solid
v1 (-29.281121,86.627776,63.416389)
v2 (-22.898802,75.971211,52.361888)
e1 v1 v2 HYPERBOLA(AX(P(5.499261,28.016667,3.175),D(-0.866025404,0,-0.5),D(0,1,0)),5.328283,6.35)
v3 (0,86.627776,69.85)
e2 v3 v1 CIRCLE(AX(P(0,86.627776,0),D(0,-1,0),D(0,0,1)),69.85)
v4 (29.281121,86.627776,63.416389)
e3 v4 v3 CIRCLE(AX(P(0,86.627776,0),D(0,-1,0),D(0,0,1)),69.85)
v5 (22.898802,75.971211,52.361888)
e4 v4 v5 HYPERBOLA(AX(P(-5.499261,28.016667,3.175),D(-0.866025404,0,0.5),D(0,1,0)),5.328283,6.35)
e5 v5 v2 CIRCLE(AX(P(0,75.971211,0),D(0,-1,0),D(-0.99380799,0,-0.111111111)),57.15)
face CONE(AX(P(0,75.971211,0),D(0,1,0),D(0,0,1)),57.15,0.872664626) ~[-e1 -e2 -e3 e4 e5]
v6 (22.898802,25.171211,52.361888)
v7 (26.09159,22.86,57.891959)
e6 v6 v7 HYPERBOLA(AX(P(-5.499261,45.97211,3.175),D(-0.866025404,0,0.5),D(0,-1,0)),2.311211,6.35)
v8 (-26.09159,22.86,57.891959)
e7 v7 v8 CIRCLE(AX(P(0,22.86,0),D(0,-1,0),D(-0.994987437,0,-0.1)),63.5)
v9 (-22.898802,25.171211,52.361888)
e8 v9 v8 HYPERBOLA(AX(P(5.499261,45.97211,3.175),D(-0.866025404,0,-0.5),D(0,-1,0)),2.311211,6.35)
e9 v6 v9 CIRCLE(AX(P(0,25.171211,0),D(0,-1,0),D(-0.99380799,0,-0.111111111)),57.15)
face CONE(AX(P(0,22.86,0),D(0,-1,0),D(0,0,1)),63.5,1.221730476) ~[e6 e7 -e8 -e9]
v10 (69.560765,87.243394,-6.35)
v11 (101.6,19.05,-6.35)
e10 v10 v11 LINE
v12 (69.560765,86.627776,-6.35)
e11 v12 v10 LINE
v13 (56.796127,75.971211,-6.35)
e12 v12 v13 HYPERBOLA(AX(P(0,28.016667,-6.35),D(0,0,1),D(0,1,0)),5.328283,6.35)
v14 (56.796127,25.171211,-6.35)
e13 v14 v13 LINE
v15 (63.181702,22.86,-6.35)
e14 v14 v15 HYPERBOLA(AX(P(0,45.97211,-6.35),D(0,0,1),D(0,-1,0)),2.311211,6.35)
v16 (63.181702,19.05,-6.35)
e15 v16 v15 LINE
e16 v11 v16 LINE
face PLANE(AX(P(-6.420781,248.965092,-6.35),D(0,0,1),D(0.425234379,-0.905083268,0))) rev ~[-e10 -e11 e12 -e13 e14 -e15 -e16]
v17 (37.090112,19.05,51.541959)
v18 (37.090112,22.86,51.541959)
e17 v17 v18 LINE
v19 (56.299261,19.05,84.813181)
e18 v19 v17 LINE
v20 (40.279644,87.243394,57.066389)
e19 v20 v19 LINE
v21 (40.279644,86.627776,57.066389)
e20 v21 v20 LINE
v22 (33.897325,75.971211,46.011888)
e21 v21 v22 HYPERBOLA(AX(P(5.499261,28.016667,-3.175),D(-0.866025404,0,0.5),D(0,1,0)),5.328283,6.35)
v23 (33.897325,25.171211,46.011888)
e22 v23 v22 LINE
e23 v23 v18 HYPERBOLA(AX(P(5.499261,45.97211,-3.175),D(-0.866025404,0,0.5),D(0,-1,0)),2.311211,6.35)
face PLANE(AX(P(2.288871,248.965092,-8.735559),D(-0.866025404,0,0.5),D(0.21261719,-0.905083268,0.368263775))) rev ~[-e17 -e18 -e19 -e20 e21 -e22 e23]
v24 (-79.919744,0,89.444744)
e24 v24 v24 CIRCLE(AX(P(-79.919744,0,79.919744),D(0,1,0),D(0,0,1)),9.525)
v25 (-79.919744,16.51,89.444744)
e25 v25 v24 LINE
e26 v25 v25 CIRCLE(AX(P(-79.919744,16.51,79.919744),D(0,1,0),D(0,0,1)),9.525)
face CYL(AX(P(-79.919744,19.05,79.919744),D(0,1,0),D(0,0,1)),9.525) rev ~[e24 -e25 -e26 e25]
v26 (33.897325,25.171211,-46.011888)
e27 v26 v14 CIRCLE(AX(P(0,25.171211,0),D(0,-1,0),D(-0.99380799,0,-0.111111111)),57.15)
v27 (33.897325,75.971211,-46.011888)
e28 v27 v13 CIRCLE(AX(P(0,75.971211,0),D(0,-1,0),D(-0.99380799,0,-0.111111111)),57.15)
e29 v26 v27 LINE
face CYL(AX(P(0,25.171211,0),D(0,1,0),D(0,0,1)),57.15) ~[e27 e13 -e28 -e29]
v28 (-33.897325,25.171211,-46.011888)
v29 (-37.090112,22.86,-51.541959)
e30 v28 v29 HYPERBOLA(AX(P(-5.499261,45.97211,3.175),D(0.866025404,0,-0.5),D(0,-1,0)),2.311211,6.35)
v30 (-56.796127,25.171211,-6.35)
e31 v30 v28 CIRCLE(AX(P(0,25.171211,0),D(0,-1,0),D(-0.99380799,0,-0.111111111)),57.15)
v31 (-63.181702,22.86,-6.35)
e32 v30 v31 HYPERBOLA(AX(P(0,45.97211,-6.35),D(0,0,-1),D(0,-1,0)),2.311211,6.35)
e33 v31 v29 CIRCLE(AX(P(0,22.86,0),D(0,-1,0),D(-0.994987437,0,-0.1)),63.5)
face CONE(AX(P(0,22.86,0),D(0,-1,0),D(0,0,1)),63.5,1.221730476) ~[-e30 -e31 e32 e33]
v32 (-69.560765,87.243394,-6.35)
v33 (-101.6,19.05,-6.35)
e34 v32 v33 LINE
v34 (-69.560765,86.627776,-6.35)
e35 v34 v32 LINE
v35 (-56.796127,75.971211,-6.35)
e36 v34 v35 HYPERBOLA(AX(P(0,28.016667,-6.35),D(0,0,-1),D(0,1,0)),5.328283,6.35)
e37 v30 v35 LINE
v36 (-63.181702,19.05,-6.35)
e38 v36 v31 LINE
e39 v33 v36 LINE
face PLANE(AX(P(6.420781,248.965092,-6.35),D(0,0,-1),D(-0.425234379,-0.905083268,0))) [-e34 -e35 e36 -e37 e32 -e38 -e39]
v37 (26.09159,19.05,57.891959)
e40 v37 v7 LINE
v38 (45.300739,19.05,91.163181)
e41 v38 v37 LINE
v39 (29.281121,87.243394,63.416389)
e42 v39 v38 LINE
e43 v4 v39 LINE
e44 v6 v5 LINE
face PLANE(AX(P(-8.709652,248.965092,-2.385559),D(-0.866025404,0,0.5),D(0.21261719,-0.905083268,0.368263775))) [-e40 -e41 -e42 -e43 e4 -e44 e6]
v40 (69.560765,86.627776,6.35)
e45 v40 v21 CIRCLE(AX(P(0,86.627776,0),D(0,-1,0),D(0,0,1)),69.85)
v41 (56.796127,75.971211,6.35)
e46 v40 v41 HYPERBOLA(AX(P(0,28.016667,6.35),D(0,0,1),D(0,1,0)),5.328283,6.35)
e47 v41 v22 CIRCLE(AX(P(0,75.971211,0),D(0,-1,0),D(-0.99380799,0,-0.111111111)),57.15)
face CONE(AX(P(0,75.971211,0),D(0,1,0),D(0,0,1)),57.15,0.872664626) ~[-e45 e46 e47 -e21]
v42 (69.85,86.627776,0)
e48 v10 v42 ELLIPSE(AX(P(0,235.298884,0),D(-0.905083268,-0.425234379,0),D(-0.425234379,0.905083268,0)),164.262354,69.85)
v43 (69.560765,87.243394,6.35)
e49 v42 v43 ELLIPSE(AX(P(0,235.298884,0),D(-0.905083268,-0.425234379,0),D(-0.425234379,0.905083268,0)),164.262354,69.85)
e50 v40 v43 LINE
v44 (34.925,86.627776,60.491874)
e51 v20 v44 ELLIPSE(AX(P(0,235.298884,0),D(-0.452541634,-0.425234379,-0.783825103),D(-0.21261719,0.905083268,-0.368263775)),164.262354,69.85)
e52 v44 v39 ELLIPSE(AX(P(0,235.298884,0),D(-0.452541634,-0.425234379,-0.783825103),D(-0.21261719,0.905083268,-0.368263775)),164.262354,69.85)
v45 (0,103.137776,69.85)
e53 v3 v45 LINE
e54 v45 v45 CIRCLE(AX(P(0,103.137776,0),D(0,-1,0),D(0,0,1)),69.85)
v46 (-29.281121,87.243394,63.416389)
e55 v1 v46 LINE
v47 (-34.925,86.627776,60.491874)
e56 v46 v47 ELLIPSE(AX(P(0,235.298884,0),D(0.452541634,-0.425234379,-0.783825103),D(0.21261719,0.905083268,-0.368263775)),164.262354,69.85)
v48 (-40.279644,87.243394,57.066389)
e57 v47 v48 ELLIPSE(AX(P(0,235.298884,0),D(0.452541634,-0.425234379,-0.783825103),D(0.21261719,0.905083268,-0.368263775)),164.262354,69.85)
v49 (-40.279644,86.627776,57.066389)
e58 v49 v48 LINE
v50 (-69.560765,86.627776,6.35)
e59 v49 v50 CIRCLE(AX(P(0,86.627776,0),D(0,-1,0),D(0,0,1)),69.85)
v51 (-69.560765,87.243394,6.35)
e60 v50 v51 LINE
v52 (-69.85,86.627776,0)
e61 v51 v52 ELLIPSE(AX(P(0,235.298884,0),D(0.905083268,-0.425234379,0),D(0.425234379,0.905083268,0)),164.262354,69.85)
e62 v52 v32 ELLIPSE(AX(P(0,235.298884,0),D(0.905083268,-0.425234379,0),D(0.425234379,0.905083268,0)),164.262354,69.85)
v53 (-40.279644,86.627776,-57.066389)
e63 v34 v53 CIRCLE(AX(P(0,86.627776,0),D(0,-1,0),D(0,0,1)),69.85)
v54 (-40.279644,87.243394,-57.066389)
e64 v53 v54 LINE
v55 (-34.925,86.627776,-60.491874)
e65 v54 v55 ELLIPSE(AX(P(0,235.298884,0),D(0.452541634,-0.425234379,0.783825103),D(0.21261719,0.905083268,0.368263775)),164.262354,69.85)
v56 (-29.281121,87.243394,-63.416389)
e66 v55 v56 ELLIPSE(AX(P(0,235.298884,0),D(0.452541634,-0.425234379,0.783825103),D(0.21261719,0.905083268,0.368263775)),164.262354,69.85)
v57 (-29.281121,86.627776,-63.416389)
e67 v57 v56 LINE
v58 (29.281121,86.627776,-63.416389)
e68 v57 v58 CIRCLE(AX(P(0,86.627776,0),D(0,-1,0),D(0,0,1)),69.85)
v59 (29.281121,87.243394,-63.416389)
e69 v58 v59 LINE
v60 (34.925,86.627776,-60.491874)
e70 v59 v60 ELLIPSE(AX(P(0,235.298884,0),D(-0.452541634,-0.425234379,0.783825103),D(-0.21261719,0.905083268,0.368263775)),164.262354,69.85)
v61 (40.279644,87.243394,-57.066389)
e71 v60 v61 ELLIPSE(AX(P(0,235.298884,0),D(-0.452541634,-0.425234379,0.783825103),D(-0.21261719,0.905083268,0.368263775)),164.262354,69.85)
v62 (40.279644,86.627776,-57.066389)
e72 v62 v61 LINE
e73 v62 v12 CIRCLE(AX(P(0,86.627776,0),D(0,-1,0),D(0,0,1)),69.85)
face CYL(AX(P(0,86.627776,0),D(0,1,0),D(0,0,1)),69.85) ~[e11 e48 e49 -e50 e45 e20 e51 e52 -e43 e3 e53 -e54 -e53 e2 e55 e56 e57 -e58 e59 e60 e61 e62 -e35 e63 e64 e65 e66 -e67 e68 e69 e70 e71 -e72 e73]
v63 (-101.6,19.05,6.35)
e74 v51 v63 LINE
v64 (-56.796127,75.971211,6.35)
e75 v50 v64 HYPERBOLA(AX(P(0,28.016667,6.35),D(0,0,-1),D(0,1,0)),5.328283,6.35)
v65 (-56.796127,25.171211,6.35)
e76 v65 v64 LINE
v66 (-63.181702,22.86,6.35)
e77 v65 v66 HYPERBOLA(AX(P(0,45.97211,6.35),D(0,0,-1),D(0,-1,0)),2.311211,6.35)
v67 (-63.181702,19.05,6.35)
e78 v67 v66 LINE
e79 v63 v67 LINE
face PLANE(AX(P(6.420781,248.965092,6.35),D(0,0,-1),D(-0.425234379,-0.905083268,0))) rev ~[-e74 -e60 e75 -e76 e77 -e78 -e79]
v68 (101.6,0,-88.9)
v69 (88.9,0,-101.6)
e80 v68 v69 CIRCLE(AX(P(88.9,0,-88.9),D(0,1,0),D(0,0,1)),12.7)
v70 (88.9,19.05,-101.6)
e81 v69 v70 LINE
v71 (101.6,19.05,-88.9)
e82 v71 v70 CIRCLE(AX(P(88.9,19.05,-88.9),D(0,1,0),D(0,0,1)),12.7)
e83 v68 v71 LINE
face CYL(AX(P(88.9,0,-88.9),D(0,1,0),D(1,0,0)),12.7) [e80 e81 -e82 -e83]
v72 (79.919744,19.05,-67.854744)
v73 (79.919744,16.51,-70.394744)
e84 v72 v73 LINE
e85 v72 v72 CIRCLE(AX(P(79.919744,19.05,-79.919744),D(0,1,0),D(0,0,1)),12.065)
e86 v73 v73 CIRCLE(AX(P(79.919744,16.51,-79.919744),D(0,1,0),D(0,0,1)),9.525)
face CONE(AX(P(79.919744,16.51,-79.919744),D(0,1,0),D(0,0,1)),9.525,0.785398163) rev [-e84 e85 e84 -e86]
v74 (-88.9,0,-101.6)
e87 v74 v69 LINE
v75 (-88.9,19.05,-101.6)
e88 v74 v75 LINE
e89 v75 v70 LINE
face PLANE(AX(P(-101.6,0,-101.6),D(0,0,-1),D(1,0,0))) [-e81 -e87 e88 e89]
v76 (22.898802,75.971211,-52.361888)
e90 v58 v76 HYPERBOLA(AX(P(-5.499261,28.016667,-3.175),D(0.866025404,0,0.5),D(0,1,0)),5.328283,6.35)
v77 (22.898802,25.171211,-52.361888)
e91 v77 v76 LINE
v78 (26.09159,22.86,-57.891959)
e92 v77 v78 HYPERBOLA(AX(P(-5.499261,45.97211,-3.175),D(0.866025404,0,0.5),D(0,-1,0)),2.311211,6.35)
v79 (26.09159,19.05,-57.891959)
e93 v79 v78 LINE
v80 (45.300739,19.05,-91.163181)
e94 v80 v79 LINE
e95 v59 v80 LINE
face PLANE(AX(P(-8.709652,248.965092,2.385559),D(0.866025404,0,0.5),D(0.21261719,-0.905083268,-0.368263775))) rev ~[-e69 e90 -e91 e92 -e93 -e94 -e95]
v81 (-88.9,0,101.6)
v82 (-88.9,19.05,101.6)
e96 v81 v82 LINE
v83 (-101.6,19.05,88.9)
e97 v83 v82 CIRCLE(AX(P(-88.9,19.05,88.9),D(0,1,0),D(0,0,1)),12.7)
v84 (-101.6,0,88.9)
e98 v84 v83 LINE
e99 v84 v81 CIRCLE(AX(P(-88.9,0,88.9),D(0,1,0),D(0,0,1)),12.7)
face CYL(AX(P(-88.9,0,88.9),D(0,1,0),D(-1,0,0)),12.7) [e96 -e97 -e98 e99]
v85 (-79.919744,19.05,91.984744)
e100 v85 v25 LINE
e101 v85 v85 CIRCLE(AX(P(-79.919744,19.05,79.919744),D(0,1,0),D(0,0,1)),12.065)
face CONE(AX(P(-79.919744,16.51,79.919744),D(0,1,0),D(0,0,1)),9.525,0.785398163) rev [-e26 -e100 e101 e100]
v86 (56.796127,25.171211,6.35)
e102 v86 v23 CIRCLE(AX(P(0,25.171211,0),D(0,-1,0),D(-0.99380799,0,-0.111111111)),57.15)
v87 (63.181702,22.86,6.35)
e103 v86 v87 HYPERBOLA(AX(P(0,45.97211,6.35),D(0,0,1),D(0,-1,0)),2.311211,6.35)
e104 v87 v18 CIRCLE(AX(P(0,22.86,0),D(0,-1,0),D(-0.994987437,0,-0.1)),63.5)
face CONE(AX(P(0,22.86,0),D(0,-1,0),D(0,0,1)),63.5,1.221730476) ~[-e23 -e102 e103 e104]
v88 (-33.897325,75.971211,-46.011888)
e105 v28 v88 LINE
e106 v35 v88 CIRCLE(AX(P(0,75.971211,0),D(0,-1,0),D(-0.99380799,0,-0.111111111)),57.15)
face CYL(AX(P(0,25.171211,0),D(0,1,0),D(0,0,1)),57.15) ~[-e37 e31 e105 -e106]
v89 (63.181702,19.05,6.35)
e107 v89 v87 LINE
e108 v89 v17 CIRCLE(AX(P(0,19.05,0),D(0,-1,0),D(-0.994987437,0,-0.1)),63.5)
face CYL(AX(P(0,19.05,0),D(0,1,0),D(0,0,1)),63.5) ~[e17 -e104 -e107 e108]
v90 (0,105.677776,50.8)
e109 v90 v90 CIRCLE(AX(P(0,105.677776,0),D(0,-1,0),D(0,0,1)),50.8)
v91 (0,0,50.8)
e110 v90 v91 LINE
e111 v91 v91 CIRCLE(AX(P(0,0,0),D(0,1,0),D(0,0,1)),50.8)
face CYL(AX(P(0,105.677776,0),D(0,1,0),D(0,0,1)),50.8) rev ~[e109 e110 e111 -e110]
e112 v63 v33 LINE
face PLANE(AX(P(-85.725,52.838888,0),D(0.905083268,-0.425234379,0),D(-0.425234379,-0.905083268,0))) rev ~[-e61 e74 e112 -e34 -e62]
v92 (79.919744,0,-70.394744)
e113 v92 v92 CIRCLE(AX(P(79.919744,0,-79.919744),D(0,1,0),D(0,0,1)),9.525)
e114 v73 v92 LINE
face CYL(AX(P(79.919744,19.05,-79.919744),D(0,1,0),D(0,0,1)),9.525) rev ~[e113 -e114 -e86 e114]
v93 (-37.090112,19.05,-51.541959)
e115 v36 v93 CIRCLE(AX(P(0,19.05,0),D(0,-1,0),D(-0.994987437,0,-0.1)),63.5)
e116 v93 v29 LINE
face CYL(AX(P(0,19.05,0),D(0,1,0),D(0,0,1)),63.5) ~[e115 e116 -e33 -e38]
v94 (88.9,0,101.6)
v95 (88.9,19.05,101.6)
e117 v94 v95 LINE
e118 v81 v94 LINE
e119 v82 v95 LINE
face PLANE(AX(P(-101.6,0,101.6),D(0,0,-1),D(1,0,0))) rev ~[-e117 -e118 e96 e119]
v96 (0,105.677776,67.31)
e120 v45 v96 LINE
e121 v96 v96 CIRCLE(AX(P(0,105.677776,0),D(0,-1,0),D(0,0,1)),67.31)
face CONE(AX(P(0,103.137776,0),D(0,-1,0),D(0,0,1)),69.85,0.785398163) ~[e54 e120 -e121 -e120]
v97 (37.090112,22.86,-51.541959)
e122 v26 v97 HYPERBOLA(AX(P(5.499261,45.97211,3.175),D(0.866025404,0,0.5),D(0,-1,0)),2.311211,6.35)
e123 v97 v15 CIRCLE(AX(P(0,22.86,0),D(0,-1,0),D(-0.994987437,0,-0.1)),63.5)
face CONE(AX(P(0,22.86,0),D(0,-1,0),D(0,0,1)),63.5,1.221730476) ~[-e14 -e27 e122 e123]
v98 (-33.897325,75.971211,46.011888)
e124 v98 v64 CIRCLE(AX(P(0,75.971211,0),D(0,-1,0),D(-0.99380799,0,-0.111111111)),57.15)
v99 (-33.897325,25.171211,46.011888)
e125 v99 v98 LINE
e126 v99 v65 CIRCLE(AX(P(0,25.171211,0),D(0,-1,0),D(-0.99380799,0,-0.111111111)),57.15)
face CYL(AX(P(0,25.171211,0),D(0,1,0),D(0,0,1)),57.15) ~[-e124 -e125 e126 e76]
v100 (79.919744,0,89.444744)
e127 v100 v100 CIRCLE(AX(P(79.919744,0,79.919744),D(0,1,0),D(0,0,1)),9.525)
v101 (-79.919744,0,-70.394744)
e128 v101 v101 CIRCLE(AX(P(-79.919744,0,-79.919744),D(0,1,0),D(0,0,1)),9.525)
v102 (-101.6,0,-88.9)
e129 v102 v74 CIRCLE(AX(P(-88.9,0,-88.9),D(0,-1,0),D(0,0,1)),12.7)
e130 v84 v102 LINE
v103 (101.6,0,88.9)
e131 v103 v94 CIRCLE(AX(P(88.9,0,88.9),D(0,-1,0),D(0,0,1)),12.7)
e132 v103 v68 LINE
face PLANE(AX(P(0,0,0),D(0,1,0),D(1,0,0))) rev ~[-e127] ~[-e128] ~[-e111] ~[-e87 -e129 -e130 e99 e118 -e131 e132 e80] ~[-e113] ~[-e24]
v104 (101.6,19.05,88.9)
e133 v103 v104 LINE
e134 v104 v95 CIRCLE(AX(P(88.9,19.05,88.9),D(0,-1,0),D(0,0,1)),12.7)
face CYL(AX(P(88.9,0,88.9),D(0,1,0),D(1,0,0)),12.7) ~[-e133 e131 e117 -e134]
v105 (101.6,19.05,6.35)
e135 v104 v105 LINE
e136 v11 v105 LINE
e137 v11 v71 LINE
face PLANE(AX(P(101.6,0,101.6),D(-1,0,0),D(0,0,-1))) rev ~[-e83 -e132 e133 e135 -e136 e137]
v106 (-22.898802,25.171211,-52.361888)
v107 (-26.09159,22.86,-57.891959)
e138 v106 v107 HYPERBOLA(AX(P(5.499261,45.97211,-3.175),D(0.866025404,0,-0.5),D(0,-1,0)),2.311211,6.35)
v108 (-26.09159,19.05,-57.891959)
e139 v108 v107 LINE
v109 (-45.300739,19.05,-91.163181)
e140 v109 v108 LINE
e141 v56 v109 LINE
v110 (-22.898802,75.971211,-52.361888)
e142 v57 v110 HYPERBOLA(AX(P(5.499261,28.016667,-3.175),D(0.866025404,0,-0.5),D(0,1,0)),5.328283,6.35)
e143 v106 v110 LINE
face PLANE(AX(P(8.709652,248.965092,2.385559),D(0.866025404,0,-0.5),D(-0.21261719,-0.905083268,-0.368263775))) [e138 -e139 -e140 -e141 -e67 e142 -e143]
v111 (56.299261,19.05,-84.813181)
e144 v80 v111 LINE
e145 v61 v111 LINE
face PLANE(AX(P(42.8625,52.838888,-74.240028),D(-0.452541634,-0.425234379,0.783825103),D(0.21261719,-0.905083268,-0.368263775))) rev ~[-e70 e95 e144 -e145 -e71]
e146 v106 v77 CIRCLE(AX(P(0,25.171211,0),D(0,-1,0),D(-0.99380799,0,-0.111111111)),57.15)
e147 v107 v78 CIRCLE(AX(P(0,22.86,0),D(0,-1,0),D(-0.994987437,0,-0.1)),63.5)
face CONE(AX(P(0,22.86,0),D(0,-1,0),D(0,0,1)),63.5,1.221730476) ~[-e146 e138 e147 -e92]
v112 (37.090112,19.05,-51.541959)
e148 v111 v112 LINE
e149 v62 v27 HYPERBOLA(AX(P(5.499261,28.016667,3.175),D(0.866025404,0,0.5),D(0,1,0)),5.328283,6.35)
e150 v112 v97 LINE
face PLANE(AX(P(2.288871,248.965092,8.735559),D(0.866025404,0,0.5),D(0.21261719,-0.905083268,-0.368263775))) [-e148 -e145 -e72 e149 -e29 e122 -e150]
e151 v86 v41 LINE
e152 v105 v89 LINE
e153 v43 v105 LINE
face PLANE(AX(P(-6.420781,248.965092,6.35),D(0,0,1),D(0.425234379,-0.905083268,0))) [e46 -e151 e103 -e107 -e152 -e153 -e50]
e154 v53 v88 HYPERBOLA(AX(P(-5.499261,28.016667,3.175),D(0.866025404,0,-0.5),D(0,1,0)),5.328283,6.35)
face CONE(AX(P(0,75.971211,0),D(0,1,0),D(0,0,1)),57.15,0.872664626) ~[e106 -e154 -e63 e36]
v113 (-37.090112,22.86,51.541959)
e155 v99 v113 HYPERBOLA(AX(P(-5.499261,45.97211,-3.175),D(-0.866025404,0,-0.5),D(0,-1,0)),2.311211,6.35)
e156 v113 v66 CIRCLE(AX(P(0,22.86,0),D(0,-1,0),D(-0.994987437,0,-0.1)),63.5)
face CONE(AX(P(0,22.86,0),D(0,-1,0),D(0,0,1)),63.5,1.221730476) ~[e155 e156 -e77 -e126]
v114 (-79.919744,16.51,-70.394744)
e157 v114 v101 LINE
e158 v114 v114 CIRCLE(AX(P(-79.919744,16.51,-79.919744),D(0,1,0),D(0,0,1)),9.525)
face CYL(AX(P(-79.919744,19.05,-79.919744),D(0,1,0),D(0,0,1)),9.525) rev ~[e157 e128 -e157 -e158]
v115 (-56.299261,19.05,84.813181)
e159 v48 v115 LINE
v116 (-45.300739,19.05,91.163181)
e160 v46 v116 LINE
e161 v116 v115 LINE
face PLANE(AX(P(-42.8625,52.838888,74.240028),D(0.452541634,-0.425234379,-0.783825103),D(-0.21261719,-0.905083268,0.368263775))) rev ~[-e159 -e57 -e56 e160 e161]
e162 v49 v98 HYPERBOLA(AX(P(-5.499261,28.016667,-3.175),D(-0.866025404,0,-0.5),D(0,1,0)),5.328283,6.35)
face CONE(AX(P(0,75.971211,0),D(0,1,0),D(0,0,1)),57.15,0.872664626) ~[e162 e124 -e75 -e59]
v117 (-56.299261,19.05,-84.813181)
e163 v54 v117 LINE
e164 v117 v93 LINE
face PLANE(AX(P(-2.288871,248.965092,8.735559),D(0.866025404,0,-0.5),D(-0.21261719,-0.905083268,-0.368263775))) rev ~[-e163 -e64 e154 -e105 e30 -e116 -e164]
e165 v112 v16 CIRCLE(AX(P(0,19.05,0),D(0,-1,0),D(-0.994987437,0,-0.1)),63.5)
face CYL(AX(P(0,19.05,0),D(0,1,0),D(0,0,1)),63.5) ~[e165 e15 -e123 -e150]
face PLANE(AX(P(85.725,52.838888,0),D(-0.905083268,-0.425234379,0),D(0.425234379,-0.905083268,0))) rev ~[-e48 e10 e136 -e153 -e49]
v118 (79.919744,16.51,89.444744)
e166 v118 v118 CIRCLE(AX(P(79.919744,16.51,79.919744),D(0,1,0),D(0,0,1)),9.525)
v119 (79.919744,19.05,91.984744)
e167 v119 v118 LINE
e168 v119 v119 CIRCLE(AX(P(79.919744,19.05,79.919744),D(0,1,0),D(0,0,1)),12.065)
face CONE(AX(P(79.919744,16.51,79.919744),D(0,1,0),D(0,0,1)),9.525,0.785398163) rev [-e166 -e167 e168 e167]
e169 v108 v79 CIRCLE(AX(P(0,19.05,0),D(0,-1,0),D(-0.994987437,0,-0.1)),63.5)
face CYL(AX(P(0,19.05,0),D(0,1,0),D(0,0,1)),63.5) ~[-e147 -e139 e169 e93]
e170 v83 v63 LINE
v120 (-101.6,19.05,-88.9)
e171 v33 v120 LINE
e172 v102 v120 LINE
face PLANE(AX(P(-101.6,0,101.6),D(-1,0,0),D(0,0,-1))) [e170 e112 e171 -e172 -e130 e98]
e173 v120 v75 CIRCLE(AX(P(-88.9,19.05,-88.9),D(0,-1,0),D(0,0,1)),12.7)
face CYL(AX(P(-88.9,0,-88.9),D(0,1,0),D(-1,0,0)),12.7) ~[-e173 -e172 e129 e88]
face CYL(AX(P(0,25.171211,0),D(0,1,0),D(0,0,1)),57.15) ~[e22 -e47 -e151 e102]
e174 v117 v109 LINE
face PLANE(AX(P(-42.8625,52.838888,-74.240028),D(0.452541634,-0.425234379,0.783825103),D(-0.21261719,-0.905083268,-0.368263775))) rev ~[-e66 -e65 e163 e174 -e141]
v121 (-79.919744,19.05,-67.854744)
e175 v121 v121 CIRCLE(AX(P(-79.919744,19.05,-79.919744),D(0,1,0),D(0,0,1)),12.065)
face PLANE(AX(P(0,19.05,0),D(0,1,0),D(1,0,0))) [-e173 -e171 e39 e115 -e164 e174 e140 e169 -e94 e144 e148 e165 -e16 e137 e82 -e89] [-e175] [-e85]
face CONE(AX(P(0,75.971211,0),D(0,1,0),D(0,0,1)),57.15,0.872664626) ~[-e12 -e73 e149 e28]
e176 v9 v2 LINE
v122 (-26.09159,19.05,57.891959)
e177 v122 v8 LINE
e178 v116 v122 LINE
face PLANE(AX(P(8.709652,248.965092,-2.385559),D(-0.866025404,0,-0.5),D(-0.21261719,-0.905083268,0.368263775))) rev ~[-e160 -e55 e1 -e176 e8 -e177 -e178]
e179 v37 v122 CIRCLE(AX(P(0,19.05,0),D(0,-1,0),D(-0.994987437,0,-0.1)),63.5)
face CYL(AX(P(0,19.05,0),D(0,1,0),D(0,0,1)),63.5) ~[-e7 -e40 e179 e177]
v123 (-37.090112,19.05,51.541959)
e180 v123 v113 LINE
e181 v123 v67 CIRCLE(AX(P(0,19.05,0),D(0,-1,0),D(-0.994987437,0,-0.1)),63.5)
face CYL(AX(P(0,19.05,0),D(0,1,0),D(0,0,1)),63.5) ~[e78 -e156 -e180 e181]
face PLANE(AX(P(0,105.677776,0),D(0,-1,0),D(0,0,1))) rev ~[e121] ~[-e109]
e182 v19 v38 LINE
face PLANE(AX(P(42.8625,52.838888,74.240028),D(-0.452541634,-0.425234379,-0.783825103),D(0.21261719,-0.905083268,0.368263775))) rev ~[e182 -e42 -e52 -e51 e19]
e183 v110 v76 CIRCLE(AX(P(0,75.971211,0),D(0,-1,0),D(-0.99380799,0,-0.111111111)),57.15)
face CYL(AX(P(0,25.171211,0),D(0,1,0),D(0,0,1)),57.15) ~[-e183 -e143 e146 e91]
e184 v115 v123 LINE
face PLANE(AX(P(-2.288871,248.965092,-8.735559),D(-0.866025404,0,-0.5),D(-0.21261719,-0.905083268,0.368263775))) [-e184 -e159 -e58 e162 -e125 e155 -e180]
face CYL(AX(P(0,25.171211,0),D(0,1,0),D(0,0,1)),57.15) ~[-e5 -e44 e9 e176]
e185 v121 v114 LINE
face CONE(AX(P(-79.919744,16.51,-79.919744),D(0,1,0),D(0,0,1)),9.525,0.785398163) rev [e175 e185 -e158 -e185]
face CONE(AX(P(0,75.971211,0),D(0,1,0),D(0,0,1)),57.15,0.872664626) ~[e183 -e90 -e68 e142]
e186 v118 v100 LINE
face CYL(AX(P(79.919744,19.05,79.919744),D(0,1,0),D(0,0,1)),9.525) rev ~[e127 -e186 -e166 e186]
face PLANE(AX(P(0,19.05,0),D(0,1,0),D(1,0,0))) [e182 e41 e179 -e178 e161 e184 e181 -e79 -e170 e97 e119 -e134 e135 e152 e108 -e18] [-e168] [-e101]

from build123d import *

# Parameters (mm, degrees)
BASE_SKETCH_W               = 203.2
BASE_SKETCH_H               = 203.2
BASE_FEATURE_DEPTH          = 19.05
SHAFT_HOLE_SKETCH_R         = 50.8
SHAFT_HOLE_FEATURE_DEPTH    = 179.361745911
BASE_FILLET_R               = 12.7
BOLTING_HOLES_SKETCH_R      = 9.525
BOLTING_HOLES_FEATURE_DEPTH = 168.778102347
RIB_SUPPORT_FEATURE_REACH   = 180.362
RIB_SUPPORT_SKETCH_WALL_W   = 433.38819801
RIB_SUPPORT_SKETCH_WALL_H   = 12.7
RIB_SUPPORT_PATTERN_COUNT   = 6
CHAMFER1_SIZE               = 2.54


with BuildPart() as part:
    # Base Sketch → Base Feature (new body)
    with BuildSketch(Plane(origin=(0, 0, 0), x_dir=(1, 0, 0), z_dir=(0, 1, 0))):
        Rectangle(BASE_SKETCH_W, BASE_SKETCH_H)
    extrude(amount=BASE_FEATURE_DEPTH)

    # Shaft Housing Sketch → Shaft Housing Feature (revolve)
    with BuildSketch(Plane.XY, mode=Mode.PRIVATE) as shaft_housing_feature_sk:
        Polygon((63.5, 19.05), (63.5, 22.86), (57.15, 25.171210988), (57.15, 75.971210988), (69.85, 86.627776304), (69.85, 105.677776304), (50.8, 105.677776304), (50.8, 19.05), align=None)
    revolve(shaft_housing_feature_sk.sketch.rotate(Axis((0, 0, 0), (0, -1, 0)), 90), axis=Axis((0, 0, 0), (0, -1, 0)))

    # Shaft Hole Sketch → Shaft Hole Feature (cut, through all)
    with BuildSketch(Plane(origin=(0, 105.677776304, 0), x_dir=(1, 0, 0), z_dir=(0, 1, 0))):
        with Locations(Location((0, 0, 0), (0, 0, 270))):
            Circle(SHAFT_HOLE_SKETCH_R)
    extrude(amount=-SHAFT_HOLE_FEATURE_DEPTH, mode=Mode.SUBTRACT)

    # Base Fillet
    base_fillet_edges = [part.edges().sort_by_distance(p)[0] for p in [
        (-101.6, 9.525, -101.6),
        (101.6, 9.525, -101.6),
        (101.6, 9.525, 101.6),
        (-101.6, 9.525, 101.6),
    ]]
    fillet(base_fillet_edges, radius=BASE_FILLET_R)

    # Bolting Holes Sketch → Bolting Holes Feature (cut, through all)
    with BuildSketch(Plane(origin=(0, 19.05, 0), x_dir=(1, 0, 0), z_dir=(0, 1, 0))):
        with Locations(Location((-79.919743879, 79.919743879, 0), (0, 0, 270))):
            Circle(BOLTING_HOLES_SKETCH_R)
        with Locations(Location((79.919743879, 79.919743879, 0), (0, 0, 270))):
            Circle(BOLTING_HOLES_SKETCH_R)
        with Locations(Location((79.919743879, -79.919743879, 0), (0, 0, 270))):
            Circle(BOLTING_HOLES_SKETCH_R)
        with Locations(Location((-79.919743879, -79.919743879, 0), (0, 0, 270))):
            Circle(BOLTING_HOLES_SKETCH_R)
    extrude(amount=-BOLTING_HOLES_FEATURE_DEPTH, mode=Mode.SUBTRACT)

    # Rib Support Sketch wall → Rib Support Feature (add, up to next)
    with BuildSketch(Plane(origin=(-85.725, 52.838888152, 0), x_dir=(-0.425234379412, -0.905083268305, 0), z_dir=(0.905083268305, -0.425234379412, 0)), mode=Mode.PRIVATE) as rib_support_feature_sk1:
        Rectangle(RIB_SUPPORT_SKETCH_WALL_W, RIB_SUPPORT_SKETCH_WALL_H)
    rib_support_feature_tool1 = extrude(rib_support_feature_sk1.sketch, amount=RIB_SUPPORT_FEATURE_REACH, mode=Mode.PRIVATE) - part.part
    rib_support_feature = rib_support_feature_tool1.solids().sort_by_distance((-85.725, 52.838888152, 0))[0]
    add(rib_support_feature)

    # Rib Support Pattern: Rib Support Feature ×6 about axis
    rib_support_pattern_axis = Axis((0, 0, 0), (0, 1, 0))
    for i in range(1, RIB_SUPPORT_PATTERN_COUNT):
        add(rib_support_feature.rotate(rib_support_pattern_axis, i * 360 / RIB_SUPPORT_PATTERN_COUNT))

    # Chamfer1
    chamfer1_edges = [part.edges().sort_by_distance(p)[0] for p in [
        (0, 105.677776304, -69.85),
        (-79.919743879, 19.05, -89.444743879),
        (79.919743879, 19.05, -89.444743879),
        (79.919743879, 19.05, 70.394743879),
        (-79.919743879, 19.05, 70.394743879),
    ]]
    chamfer(chamfer1_edges, length=CHAMFER1_SIZE)


solid = part.part
